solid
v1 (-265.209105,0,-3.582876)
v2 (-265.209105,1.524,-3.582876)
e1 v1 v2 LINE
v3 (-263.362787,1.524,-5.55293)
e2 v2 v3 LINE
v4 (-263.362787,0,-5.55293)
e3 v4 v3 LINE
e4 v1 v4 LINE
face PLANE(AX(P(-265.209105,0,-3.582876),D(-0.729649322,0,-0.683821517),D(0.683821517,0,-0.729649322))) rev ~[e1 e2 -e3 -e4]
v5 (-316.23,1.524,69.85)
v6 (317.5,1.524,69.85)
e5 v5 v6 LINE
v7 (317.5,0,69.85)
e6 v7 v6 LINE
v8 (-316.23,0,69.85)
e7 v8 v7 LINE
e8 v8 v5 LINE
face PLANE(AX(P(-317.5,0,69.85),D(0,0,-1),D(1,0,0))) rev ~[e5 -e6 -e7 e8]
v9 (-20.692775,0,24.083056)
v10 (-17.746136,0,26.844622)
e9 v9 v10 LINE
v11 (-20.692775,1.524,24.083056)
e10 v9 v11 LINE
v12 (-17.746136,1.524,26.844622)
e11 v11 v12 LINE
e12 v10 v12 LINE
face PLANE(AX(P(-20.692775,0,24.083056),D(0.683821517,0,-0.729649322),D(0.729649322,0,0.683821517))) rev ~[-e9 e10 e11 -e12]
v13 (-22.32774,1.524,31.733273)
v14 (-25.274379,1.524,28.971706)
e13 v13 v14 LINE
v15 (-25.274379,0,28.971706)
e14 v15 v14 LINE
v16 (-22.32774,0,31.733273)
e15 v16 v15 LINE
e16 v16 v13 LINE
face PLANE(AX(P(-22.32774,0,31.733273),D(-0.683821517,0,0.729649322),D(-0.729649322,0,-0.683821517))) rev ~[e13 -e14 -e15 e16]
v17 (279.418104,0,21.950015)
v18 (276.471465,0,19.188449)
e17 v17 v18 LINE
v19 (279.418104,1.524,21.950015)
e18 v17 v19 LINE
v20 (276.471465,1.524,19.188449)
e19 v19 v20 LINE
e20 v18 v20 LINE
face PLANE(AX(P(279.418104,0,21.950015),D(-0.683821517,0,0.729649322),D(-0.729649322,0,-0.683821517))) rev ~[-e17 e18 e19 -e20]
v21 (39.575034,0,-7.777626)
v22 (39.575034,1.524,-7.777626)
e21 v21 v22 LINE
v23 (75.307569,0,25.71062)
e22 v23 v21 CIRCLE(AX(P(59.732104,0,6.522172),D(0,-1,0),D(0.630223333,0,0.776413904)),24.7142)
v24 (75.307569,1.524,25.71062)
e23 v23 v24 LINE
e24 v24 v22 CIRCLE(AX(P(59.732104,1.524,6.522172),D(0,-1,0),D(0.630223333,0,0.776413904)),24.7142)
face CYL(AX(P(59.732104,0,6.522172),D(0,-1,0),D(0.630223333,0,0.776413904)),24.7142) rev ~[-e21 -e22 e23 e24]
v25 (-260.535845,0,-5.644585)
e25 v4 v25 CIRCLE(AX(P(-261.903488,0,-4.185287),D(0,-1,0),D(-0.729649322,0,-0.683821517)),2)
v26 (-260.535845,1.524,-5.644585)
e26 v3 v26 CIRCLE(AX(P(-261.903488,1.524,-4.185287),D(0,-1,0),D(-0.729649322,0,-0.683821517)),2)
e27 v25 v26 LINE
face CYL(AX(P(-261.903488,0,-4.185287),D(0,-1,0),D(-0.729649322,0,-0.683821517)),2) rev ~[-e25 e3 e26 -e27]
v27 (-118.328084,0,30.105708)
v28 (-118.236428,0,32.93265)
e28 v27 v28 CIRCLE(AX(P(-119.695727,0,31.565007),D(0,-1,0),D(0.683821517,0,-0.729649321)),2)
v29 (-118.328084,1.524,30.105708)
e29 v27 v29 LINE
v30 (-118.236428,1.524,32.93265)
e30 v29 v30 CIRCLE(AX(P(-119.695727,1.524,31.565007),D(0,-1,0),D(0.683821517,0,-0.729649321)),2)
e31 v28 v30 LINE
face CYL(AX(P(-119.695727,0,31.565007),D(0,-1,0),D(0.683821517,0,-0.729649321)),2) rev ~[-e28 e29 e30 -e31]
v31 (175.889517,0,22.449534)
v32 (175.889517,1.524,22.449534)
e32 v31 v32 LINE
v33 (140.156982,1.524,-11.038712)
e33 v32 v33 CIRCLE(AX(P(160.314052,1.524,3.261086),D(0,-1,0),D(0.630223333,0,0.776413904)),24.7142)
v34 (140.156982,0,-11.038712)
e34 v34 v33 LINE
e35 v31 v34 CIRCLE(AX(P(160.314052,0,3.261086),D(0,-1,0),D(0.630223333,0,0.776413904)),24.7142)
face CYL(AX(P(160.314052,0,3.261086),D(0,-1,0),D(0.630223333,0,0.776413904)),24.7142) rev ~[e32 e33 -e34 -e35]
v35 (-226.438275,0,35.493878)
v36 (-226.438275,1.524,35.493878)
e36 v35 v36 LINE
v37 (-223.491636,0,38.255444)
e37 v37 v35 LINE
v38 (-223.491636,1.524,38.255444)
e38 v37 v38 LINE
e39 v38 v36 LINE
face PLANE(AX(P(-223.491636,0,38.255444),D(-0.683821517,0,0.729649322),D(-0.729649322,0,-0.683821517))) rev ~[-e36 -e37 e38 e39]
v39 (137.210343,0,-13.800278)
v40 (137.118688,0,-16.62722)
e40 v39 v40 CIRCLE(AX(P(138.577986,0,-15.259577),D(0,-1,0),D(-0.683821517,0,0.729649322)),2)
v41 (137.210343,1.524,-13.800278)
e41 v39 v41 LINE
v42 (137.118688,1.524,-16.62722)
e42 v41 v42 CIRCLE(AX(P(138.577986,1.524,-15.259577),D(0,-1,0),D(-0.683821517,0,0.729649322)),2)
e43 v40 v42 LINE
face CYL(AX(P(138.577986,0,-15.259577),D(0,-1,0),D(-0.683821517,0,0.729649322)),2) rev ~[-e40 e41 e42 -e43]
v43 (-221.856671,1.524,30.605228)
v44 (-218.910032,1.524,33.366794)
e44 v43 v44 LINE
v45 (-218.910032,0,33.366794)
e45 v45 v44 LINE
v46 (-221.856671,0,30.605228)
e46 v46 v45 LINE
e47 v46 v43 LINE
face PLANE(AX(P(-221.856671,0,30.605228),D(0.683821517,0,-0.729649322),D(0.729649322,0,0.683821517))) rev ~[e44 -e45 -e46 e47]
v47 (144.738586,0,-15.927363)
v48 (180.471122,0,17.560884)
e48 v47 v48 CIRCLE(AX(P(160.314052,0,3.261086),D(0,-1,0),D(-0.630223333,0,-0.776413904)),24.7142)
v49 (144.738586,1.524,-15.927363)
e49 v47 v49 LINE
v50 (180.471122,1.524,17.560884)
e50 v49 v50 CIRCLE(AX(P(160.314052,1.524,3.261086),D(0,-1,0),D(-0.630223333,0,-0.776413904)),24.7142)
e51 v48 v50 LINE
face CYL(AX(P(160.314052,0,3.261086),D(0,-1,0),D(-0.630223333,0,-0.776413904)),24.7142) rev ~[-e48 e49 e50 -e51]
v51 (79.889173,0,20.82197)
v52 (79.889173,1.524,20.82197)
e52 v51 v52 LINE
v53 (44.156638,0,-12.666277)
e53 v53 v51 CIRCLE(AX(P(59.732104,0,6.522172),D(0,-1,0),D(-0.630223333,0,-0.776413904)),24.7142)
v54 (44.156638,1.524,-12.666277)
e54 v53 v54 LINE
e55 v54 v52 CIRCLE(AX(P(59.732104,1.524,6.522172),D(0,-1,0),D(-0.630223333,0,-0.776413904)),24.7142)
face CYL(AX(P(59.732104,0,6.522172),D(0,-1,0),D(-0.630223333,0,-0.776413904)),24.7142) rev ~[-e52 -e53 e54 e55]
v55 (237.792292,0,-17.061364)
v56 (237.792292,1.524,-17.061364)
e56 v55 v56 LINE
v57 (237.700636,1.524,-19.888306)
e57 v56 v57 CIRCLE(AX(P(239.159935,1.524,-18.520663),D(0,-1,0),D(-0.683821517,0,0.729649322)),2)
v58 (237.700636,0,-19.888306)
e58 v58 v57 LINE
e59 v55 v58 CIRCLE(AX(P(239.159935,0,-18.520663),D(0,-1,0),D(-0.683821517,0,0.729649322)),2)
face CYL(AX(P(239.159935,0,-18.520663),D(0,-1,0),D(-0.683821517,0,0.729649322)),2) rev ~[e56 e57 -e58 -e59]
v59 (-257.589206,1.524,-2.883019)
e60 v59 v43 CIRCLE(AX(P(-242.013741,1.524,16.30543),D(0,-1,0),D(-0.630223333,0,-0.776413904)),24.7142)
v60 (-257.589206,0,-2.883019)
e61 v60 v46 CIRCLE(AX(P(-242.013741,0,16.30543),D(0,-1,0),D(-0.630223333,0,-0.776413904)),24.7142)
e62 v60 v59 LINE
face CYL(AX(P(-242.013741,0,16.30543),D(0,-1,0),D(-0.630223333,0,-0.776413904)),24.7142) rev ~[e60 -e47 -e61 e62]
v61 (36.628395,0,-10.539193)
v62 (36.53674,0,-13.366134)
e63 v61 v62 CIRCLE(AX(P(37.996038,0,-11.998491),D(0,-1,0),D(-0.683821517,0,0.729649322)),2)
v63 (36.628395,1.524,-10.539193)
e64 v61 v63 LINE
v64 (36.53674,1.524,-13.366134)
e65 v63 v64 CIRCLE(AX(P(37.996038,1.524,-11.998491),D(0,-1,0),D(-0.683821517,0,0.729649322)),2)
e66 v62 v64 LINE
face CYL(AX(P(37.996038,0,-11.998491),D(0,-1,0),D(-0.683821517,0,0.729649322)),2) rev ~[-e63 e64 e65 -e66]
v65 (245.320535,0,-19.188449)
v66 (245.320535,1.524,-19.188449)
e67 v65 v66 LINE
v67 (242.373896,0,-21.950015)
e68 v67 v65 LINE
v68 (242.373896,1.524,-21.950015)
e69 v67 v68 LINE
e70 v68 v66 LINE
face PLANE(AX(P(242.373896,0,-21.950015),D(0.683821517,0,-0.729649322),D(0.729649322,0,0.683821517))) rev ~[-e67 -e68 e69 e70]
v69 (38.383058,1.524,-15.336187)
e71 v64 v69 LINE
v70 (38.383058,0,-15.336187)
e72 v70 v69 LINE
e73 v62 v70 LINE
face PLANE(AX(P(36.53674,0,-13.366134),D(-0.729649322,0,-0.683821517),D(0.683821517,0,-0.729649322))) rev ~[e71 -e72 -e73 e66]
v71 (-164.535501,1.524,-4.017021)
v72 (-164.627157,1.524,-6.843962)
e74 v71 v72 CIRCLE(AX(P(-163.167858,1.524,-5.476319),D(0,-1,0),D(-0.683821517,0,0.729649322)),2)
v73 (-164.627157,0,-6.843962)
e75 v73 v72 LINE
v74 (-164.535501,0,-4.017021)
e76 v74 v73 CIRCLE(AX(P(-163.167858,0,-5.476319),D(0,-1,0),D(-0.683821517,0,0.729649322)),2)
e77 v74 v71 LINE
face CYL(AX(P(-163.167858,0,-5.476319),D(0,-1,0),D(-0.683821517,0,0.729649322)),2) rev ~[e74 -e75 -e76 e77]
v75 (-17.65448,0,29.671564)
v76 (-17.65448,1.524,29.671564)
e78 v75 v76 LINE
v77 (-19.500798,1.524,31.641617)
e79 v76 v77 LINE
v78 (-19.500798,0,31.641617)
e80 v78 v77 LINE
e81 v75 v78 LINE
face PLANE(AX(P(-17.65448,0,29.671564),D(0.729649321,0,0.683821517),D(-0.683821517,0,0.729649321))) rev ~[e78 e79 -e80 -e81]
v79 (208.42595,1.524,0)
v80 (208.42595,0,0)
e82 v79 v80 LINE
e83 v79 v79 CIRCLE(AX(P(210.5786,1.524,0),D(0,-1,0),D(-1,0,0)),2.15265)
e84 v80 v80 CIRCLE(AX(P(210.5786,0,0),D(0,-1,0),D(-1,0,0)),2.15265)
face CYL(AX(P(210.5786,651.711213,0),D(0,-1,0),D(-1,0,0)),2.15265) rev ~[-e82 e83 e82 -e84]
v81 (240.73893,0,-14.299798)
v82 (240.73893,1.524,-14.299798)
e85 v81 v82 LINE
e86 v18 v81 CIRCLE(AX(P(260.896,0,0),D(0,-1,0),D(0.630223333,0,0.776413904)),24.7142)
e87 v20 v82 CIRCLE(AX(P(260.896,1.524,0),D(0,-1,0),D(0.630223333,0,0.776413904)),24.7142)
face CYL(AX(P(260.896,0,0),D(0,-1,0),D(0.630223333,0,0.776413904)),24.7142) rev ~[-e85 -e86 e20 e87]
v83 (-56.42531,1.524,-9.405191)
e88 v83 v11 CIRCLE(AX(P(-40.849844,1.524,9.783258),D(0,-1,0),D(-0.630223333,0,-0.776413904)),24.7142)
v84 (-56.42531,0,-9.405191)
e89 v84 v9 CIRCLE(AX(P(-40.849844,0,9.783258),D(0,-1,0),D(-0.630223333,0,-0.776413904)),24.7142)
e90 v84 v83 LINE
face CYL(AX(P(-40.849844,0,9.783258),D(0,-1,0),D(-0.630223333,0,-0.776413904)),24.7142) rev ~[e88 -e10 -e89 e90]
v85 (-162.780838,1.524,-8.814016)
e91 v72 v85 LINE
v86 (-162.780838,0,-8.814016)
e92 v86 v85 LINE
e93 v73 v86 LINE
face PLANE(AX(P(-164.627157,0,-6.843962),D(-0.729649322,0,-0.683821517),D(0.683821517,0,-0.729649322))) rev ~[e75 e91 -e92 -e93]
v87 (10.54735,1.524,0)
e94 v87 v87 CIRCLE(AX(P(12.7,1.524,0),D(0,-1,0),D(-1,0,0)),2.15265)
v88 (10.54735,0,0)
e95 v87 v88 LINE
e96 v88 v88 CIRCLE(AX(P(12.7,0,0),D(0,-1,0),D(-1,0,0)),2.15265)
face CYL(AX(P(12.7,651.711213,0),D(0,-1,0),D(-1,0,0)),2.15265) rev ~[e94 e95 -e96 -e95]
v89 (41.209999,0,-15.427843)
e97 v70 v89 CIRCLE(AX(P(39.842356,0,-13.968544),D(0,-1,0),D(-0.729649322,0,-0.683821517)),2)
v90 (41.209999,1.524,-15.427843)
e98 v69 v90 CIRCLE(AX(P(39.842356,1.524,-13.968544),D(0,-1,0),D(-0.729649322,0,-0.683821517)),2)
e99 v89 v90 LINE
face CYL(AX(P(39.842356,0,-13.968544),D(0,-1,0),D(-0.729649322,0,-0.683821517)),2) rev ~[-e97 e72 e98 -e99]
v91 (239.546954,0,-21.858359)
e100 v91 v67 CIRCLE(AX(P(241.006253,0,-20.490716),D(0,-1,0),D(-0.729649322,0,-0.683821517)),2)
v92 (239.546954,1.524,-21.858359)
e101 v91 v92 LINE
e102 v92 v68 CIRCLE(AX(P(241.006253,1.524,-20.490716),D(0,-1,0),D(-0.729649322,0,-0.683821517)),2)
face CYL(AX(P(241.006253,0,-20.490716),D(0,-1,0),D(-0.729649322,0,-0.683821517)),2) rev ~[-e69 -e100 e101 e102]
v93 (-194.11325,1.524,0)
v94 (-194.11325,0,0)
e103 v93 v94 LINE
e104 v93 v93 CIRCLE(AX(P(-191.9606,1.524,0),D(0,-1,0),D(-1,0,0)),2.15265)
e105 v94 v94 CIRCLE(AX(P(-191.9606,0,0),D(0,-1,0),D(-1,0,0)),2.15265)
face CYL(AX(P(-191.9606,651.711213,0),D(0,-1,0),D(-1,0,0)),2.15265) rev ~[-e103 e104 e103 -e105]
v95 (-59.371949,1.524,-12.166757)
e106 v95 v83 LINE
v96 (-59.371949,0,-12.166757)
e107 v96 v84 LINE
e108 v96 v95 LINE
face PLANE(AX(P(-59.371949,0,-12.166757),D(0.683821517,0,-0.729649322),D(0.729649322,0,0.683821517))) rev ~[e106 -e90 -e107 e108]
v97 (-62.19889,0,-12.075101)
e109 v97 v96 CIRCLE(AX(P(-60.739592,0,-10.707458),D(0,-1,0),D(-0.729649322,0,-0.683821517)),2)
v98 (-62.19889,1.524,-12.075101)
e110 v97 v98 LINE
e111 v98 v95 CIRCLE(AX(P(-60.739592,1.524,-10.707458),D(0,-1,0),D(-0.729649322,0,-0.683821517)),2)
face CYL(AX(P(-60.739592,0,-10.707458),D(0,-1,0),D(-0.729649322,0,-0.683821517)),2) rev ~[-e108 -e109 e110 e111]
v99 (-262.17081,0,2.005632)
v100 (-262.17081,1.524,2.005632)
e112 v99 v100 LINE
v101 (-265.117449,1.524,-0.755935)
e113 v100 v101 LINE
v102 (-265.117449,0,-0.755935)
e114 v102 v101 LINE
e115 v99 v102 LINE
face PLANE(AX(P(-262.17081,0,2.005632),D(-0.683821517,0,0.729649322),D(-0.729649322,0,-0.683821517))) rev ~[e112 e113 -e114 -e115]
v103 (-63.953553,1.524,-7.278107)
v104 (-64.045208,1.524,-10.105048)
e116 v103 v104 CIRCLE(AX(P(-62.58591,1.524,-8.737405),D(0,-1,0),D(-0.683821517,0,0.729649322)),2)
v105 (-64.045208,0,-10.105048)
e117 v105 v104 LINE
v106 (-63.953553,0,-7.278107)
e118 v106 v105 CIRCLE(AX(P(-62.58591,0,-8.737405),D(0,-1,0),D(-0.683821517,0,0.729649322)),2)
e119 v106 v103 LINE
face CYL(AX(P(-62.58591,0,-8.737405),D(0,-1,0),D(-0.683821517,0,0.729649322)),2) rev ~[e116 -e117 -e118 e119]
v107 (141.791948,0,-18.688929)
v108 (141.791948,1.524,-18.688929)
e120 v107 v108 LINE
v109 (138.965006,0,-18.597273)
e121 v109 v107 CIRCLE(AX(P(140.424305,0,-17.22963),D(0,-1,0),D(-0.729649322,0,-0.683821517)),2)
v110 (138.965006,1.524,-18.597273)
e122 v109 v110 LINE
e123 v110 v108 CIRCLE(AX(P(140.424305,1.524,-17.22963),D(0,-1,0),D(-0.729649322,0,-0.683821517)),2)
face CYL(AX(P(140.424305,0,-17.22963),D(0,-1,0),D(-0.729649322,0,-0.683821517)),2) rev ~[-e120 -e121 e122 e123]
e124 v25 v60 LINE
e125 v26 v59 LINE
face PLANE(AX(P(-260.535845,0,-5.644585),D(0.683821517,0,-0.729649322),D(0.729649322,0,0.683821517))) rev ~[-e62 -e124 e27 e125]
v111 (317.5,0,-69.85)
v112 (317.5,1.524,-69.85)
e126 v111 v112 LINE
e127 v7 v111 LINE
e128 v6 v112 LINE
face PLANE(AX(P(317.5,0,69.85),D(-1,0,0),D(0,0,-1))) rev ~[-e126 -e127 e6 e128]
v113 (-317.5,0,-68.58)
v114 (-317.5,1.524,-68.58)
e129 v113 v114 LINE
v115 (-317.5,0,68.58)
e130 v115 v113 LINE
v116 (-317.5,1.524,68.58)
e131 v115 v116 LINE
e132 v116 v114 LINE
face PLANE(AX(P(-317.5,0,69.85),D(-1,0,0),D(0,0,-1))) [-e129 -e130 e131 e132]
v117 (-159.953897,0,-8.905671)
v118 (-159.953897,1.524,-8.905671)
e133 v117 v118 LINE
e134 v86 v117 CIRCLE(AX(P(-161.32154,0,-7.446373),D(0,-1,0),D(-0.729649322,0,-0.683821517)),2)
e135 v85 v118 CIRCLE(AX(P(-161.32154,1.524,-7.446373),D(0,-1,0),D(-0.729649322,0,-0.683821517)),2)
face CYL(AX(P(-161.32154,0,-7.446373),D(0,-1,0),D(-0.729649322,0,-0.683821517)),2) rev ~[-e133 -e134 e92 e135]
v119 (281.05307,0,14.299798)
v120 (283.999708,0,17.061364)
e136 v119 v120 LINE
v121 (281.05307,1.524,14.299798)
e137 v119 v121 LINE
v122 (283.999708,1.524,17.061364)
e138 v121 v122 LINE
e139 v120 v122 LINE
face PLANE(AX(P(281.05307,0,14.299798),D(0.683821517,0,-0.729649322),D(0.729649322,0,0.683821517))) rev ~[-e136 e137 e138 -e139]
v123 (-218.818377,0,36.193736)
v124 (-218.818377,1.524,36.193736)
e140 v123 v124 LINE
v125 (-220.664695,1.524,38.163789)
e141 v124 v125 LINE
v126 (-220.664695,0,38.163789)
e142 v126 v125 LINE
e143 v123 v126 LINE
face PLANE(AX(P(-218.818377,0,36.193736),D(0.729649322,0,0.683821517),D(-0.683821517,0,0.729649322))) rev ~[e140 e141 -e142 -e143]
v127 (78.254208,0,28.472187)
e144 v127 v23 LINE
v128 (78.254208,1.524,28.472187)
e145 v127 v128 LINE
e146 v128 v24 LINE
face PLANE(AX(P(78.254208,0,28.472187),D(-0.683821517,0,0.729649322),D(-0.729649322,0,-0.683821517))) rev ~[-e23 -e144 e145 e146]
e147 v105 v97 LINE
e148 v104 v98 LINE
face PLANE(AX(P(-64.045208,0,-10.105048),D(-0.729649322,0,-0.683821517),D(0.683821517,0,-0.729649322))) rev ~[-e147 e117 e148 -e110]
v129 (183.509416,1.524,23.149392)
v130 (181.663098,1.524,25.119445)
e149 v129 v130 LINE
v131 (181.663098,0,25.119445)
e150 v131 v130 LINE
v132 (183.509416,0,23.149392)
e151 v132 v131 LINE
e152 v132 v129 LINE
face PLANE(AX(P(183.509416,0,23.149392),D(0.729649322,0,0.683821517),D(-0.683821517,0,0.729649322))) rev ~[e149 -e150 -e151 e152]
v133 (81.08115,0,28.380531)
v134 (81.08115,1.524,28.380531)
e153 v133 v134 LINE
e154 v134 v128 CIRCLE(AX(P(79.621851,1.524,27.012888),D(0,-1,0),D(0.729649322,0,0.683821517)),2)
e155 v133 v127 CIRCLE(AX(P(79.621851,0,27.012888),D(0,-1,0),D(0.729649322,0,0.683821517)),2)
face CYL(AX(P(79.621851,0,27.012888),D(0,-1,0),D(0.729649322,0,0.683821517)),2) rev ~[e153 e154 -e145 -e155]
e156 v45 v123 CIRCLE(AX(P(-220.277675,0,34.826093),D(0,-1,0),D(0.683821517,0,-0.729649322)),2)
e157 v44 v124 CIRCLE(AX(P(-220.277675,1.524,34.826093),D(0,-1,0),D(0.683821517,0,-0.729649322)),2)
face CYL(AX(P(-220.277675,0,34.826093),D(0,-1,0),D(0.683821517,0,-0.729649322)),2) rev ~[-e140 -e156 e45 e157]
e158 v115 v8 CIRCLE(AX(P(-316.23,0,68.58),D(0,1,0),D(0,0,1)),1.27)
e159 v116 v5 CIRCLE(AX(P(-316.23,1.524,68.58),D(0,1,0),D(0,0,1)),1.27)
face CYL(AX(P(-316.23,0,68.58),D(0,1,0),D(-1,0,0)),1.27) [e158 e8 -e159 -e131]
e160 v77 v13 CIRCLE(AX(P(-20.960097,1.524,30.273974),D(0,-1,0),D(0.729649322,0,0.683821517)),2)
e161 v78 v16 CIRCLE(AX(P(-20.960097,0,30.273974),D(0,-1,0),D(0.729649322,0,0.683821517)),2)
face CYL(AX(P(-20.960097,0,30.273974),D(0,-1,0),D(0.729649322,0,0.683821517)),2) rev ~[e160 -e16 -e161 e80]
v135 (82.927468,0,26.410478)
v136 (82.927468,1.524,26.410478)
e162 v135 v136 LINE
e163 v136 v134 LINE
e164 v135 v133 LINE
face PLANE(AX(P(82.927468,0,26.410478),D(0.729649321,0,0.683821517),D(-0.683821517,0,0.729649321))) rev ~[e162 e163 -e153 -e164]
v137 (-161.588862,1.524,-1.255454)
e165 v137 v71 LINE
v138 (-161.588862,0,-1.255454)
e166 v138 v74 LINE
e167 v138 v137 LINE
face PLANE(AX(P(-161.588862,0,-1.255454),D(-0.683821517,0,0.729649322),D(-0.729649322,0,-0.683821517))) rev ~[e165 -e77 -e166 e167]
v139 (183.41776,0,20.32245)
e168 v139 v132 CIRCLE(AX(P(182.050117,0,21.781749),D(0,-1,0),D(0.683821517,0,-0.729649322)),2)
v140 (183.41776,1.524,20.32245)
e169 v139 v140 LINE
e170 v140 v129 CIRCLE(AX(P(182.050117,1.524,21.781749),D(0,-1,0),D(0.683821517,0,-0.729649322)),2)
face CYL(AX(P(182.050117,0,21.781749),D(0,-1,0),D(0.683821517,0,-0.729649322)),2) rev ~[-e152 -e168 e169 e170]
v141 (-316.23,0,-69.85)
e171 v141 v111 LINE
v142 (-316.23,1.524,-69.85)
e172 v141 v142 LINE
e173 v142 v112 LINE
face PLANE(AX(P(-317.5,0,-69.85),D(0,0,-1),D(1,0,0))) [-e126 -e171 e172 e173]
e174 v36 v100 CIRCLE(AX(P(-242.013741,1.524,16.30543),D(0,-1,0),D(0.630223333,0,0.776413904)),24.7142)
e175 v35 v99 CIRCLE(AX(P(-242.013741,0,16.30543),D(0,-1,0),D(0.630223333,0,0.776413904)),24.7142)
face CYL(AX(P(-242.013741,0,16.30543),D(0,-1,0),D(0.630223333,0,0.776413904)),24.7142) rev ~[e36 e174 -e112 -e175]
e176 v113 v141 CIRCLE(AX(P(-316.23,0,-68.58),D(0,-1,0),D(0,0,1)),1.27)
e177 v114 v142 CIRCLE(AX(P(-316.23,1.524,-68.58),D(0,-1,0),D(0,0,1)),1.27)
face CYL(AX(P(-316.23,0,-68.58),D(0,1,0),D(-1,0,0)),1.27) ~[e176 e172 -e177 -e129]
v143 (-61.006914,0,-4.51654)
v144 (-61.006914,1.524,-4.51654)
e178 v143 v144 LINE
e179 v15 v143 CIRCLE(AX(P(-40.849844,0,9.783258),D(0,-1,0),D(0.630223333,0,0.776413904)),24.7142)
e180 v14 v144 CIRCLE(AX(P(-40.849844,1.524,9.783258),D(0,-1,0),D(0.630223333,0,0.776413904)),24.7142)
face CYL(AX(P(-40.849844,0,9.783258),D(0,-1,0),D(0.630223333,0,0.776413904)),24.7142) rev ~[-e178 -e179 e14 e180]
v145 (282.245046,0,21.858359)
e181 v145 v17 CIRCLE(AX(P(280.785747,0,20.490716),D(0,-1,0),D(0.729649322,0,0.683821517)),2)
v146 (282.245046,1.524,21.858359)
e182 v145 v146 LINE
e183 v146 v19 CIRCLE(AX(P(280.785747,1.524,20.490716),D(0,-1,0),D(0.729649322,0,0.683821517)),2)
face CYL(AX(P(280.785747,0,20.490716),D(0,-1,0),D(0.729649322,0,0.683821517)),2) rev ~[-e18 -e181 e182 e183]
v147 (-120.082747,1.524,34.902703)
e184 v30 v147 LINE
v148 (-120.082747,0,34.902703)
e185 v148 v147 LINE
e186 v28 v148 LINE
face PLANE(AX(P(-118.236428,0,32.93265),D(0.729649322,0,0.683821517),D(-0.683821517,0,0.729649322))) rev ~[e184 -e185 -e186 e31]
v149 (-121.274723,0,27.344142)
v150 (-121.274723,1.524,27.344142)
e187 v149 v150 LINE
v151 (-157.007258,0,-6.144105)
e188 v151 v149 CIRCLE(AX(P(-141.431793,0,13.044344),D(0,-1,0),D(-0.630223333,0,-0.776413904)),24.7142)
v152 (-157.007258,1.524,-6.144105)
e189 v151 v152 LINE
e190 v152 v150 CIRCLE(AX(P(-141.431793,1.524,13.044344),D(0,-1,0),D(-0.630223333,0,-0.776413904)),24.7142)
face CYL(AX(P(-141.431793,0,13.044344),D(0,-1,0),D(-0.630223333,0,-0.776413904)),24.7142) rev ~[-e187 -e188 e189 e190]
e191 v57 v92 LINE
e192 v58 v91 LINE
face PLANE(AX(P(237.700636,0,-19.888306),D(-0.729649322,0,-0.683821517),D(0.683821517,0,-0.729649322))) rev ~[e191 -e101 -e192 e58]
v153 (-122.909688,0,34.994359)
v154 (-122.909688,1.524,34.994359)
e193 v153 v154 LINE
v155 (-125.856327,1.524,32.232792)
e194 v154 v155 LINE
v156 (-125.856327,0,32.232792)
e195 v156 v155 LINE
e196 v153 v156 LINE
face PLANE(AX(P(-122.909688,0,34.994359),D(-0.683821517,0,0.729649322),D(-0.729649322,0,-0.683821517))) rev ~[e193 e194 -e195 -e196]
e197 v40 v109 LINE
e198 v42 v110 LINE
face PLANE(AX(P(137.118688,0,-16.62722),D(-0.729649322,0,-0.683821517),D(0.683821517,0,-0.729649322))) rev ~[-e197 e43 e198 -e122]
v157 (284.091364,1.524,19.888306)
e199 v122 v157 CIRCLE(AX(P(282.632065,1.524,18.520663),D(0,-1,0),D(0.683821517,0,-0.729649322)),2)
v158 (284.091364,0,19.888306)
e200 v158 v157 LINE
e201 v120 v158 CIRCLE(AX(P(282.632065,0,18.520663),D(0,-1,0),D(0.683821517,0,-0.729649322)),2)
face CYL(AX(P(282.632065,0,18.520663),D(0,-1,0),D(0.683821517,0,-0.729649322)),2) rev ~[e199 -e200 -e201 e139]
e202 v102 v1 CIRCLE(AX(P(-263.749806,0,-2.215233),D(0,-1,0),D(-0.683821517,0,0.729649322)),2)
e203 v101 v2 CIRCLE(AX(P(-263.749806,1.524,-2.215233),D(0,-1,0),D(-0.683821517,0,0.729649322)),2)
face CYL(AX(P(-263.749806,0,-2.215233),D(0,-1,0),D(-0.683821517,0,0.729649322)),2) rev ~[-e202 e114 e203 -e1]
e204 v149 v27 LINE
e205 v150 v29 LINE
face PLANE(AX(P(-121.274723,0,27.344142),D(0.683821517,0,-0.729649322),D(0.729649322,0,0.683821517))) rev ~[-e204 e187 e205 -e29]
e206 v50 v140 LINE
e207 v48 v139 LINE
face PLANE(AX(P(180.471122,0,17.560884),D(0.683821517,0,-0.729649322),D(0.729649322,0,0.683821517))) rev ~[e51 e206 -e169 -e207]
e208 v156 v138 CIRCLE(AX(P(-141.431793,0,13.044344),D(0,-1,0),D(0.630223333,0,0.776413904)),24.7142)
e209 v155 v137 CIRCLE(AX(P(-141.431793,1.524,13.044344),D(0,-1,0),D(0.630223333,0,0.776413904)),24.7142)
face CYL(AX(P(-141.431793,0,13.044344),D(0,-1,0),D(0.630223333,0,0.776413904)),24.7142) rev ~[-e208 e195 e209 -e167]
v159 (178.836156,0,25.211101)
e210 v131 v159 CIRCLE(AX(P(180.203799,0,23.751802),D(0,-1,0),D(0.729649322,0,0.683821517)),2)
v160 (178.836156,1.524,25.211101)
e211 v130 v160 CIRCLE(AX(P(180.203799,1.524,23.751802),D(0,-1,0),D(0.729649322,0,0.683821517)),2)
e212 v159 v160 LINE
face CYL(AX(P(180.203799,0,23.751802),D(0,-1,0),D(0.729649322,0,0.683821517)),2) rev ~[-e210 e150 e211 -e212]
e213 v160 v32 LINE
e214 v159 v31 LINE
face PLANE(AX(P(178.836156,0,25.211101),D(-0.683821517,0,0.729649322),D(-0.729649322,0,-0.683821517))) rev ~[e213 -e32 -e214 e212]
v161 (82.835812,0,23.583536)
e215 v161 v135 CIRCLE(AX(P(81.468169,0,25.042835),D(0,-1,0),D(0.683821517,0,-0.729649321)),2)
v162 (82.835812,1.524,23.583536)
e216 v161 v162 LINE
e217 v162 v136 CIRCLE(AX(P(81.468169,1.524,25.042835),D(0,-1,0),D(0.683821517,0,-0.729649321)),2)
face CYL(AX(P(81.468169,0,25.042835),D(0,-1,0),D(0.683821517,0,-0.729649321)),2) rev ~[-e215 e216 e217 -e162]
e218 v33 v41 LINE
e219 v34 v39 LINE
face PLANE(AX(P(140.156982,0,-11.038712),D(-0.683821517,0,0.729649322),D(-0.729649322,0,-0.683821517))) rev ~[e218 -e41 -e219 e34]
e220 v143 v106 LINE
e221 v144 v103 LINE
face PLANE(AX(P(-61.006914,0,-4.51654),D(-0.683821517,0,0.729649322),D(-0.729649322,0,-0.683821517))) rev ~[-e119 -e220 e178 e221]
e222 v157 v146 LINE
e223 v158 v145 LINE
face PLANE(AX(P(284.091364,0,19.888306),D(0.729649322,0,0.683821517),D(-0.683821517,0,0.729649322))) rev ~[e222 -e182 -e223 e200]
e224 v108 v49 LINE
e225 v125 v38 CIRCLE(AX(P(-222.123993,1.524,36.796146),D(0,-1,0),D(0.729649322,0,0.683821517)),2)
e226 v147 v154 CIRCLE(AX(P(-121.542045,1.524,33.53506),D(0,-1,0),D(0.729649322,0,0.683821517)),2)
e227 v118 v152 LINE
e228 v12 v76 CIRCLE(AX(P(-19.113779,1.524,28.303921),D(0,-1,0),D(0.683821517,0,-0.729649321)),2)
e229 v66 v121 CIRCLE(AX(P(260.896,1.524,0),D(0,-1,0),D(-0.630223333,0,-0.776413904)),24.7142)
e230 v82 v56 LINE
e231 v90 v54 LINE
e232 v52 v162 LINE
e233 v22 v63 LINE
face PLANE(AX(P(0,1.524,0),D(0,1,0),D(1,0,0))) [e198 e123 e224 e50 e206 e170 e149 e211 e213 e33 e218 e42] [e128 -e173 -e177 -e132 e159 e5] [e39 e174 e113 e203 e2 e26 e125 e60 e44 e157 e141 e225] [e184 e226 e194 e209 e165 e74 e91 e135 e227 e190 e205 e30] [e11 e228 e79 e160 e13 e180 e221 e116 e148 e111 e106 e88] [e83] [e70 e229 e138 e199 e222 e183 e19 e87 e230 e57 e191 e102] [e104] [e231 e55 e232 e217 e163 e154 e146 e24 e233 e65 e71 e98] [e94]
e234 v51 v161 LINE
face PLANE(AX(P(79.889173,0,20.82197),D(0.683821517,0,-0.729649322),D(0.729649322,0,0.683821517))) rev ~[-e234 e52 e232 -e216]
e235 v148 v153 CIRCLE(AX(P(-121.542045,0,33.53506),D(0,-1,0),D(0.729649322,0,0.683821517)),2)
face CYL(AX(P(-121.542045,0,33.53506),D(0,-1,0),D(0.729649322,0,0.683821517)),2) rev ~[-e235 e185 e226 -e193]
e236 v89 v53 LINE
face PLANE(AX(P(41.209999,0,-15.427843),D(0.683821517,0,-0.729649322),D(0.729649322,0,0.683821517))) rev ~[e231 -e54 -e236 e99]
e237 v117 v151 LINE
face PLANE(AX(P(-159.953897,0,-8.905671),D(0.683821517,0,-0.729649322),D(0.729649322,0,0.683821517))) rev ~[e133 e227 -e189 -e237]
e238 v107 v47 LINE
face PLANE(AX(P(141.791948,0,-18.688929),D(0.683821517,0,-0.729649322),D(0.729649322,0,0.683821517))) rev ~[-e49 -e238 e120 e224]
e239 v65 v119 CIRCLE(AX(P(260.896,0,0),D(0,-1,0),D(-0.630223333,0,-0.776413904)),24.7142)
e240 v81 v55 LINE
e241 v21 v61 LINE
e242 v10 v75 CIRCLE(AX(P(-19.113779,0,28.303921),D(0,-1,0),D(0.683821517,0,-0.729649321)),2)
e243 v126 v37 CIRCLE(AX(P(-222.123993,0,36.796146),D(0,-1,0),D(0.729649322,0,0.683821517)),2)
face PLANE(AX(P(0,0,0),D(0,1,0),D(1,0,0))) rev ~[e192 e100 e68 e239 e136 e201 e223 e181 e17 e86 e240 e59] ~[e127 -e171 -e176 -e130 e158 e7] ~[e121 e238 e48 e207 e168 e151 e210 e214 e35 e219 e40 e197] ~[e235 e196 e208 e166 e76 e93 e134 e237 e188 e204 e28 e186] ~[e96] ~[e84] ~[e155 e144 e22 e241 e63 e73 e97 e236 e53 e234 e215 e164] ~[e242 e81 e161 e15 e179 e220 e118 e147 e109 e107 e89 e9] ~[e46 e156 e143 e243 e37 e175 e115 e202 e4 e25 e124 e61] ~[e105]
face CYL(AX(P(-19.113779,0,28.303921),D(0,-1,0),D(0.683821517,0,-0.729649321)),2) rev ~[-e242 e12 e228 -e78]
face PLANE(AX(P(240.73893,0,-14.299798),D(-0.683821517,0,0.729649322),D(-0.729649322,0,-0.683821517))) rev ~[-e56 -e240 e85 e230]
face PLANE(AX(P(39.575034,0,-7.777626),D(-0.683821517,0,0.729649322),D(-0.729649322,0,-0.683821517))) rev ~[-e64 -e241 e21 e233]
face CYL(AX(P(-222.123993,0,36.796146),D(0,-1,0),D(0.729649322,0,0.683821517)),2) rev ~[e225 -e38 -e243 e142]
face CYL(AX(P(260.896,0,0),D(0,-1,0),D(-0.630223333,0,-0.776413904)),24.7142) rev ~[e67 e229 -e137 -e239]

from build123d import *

# Parameters (mm, degrees)
SKETCH2_W             = 635
SKETCH2_H             = 139.7
BOSS_EXTRUDE1_DEPTH   = 1.524
FILLET1_R             = 1.27
F_8_CLEARANCE_HOLE1_D = 4.3053


with BuildPart() as part:
    # Sketch2 → Boss-Extrude1 (new body)
    with BuildSketch(Plane(origin=(0, 0, 0), x_dir=(1, 0, 0), z_dir=(0, 1, 0))):
        Rectangle(SKETCH2_W, SKETCH2_H)
        with BuildLine():
            Line((180.471121526, -17.560883985), (183.417760323, -20.322450333))
            ThreePointArc((183.417760323, -20.322450333), (184.049066919, -21.716938673), (183.509415933, -23.14939201))
            Line((183.509415933, -23.14939201), (181.663097836, -25.119445179))
            ThreePointArc((181.663097836, -25.119445179), (180.268609495, -25.750751775), (178.836156158, -25.211100788))
            Line((178.836156158, -25.211100788), (175.889517361, -22.44953444))
            ThreePointArc((175.889517361, -22.44953444), (143.413950131, -21.293785193), (140.156982214, 11.038712132))
            Line((140.156982214, 11.038712132), (137.210343417, 13.80027848))
            ThreePointArc((137.210343417, 13.80027848), (136.579036821, 15.194766821), (137.118687808, 16.627220158))
            Line((137.118687808, 16.627220158), (138.965005904, 18.597273327))
            ThreePointArc((138.965005904, 18.597273327), (140.359494245, 19.228579923), (141.791947582, 18.688928936))
            Line((141.791947582, 18.688928936), (144.738586379, 15.927362588))
            ThreePointArc((144.738586379, 15.927362588), (177.214153609, 14.77161334), (180.471121526, -17.560883985))
        make_face(mode=Mode.SUBTRACT)
        with BuildLine():
            Line((242.373895712, 21.950014862), (245.320534509, 19.188448514))
            ThreePointArc((245.320534509, 19.188448514), (277.796101739, 18.032699267), (281.053069656, -14.299798058))
            Line((281.053069656, -14.299798058), (283.999708453, -17.061364407))
            ThreePointArc((283.999708453, -17.061364407), (284.631015049, -18.455852747), (284.091364062, -19.888306084))
            Line((284.091364062, -19.888306084), (282.245045966, -21.858359253))
            ThreePointArc((282.245045966, -21.858359253), (280.850557625, -22.489665849), (279.418104288, -21.950014862))
            Line((279.418104288, -21.950014862), (276.471465491, -19.188448514))
            ThreePointArc((276.471465491, -19.188448514), (243.995898261, -18.032699267), (240.738930344, 14.299798058))
            Line((240.738930344, 14.299798058), (237.792291547, 17.061364407))
            ThreePointArc((237.792291547, 17.061364407), (237.160984951, 18.455852747), (237.700635938, 19.888306084))
            Line((237.700635938, 19.888306084), (239.546954034, 21.858359253))
            ThreePointArc((239.546954034, 21.858359253), (240.941442375, 22.489665849), (242.373895712, 21.950014862))
        make_face(mode=Mode.SUBTRACT)
        with BuildLine():
            Line((39.575034084, 7.777626206), (36.628395287, 10.539192554))
            ThreePointArc((36.628395287, 10.539192554), (35.997088691, 11.933680895), (36.536739678, 13.366134232))
            Line((36.536739678, 13.366134232), (38.383057774, 15.336187401))
            ThreePointArc((38.383057774, 15.336187401), (39.777546115, 15.967493997), (41.209999452, 15.42784301))
            Line((41.209999452, 15.42784301), (44.156638249, 12.666276662))
            ThreePointArc((44.156638249, 12.666276662), (76.632205479, 11.510527414), (79.889173396, -20.821969911))
            Line((79.889173396, -20.821969911), (82.835812193, -23.583536259))
            ThreePointArc((82.835812193, -23.583536259), (83.467118789, -24.9780246), (82.927467803, -26.410477937))
            Line((82.927467803, -26.410477937), (81.081149706, -28.380531105))
            ThreePointArc((81.081149706, -28.380531105), (79.686661366, -29.011837701), (78.254208028, -28.472186714))
            Line((78.254208028, -28.472186714), (75.307569231, -25.710620366))
            ThreePointArc((75.307569231, -25.710620366), (42.832002001, -24.554871119), (39.575034084, 7.777626206))
        make_face(mode=Mode.SUBTRACT)
        with BuildLine():
            Line((-61.006914046, 4.51654028), (-63.953552843, 7.278106628))
            ThreePointArc((-63.953552843, 7.278106628), (-64.584859439, 8.672594969), (-64.045208452, 10.105048306))
            Line((-64.045208452, 10.105048306), (-62.198890356, 12.075101475))
            ThreePointArc((-62.198890356, 12.075101475), (-60.804402015, 12.706408071), (-59.371948678, 12.166757084))
            Line((-59.371948678, 12.166757084), (-56.425309881, 9.405190735))
            ThreePointArc((-56.425309881, 9.405190735), (-23.949742651, 8.249441488), (-20.692774734, -24.083055837))
            Line((-20.692774734, -24.083055837), (-17.746135937, -26.844622185))
            ThreePointArc((-17.746135937, -26.844622185), (-17.114829341, -28.239110526), (-17.654480327, -29.671563863))
            Line((-17.654480327, -29.671563863), (-19.500798424, -31.641617031))
            ThreePointArc((-19.500798424, -31.641617031), (-20.895286764, -32.272923627), (-22.327740102, -31.73327264))
            Line((-22.327740102, -31.73327264), (-25.274378899, -28.971706292))
            ThreePointArc((-25.274378899, -28.971706292), (-57.749946129, -27.815957045), (-61.006914046, 4.51654028))
        make_face(mode=Mode.SUBTRACT)
        with BuildLine():
            Line((-161.588862176, 1.255454354), (-164.535500973, 4.017020702))
            ThreePointArc((-164.535500973, 4.017020702), (-165.166807569, 5.411509043), (-164.627156582, 6.84396238))
            Line((-164.627156582, 6.84396238), (-162.780838486, 8.814015548))
            ThreePointArc((-162.780838486, 8.814015548), (-161.386350145, 9.445322144), (-159.953896808, 8.905671157))
            Line((-159.953896808, 8.905671157), (-157.007258011, 6.144104809))
            ThreePointArc((-157.007258011, 6.144104809), (-124.53169078, 4.988355562), (-121.274722864, -27.344141763))
            Line((-121.274722864, -27.344141763), (-118.328084067, -30.105708111))
            ThreePointArc((-118.328084067, -30.105708111), (-117.696777471, -31.500196452), (-118.236428457, -32.932649789))
            Line((-118.236428457, -32.932649789), (-120.082746554, -34.902702958))
            ThreePointArc((-120.082746554, -34.902702958), (-121.477234894, -35.534009554), (-122.909688232, -34.994358567))
            Line((-122.909688232, -34.994358567), (-125.856327029, -32.232792218))
            ThreePointArc((-125.856327029, -32.232792218), (-158.331894259, -31.077042971), (-161.588862176, 1.255454354))
        make_face(mode=Mode.SUBTRACT)
        with BuildLine():
            Line((-221.856670994, -30.605227689), (-218.910032197, -33.366794037))
            ThreePointArc((-218.910032197, -33.366794037), (-218.2787256, -34.761282378), (-218.818376587, -36.193735715))
            Line((-218.818376587, -36.193735715), (-220.664694684, -38.163788884))
            ThreePointArc((-220.664694684, -38.163788884), (-222.059183024, -38.79509548), (-223.491636361, -38.255444493))
            Line((-223.491636361, -38.255444493), (-226.438275159, -35.493878145))
            ThreePointArc((-226.438275159, -35.493878145), (-258.913842389, -34.338128897), (-262.170810306, -2.005631572))
            Line((-262.170810306, -2.005631572), (-265.117449103, 0.755934776))
            ThreePointArc((-265.117449103, 0.755934776), (-265.748755699, 2.150423117), (-265.209104712, 3.582876454))
            Line((-265.209104712, 3.582876454), (-263.362786616, 5.552929622))
            ThreePointArc((-263.362786616, 5.552929622), (-261.968298275, 6.184236218), (-260.535844938, 5.644585231))
            Line((-260.535844938, 5.644585231), (-257.589206141, 2.883018883))
            ThreePointArc((-257.589206141, 2.883018883), (-225.11363891, 1.727269636), (-221.856670994, -30.605227689))
        make_face(mode=Mode.SUBTRACT)
    extrude(amount=BOSS_EXTRUDE1_DEPTH)

    # Fillet1
    fillet1_edges = [part.edges().sort_by_distance(p)[0] for p in [
        (-317.5, 0.762, 69.85),
        (-317.5, 0.762, -69.85),
    ]]
    fillet(fillet1_edges, radius=FILLET1_R)

    # #8 Clearance Hole1 (through all)
    with Locations(Plane(origin=(0, 1.524, 0), x_dir=(1, 0, 0), z_dir=(0, 1, 0))):
        with Locations((210.5786, 0), (12.7, 0), (-191.9606, 0)):
            Hole(F_8_CLEARANCE_HOLE1_D / 2)


solid = part.part
